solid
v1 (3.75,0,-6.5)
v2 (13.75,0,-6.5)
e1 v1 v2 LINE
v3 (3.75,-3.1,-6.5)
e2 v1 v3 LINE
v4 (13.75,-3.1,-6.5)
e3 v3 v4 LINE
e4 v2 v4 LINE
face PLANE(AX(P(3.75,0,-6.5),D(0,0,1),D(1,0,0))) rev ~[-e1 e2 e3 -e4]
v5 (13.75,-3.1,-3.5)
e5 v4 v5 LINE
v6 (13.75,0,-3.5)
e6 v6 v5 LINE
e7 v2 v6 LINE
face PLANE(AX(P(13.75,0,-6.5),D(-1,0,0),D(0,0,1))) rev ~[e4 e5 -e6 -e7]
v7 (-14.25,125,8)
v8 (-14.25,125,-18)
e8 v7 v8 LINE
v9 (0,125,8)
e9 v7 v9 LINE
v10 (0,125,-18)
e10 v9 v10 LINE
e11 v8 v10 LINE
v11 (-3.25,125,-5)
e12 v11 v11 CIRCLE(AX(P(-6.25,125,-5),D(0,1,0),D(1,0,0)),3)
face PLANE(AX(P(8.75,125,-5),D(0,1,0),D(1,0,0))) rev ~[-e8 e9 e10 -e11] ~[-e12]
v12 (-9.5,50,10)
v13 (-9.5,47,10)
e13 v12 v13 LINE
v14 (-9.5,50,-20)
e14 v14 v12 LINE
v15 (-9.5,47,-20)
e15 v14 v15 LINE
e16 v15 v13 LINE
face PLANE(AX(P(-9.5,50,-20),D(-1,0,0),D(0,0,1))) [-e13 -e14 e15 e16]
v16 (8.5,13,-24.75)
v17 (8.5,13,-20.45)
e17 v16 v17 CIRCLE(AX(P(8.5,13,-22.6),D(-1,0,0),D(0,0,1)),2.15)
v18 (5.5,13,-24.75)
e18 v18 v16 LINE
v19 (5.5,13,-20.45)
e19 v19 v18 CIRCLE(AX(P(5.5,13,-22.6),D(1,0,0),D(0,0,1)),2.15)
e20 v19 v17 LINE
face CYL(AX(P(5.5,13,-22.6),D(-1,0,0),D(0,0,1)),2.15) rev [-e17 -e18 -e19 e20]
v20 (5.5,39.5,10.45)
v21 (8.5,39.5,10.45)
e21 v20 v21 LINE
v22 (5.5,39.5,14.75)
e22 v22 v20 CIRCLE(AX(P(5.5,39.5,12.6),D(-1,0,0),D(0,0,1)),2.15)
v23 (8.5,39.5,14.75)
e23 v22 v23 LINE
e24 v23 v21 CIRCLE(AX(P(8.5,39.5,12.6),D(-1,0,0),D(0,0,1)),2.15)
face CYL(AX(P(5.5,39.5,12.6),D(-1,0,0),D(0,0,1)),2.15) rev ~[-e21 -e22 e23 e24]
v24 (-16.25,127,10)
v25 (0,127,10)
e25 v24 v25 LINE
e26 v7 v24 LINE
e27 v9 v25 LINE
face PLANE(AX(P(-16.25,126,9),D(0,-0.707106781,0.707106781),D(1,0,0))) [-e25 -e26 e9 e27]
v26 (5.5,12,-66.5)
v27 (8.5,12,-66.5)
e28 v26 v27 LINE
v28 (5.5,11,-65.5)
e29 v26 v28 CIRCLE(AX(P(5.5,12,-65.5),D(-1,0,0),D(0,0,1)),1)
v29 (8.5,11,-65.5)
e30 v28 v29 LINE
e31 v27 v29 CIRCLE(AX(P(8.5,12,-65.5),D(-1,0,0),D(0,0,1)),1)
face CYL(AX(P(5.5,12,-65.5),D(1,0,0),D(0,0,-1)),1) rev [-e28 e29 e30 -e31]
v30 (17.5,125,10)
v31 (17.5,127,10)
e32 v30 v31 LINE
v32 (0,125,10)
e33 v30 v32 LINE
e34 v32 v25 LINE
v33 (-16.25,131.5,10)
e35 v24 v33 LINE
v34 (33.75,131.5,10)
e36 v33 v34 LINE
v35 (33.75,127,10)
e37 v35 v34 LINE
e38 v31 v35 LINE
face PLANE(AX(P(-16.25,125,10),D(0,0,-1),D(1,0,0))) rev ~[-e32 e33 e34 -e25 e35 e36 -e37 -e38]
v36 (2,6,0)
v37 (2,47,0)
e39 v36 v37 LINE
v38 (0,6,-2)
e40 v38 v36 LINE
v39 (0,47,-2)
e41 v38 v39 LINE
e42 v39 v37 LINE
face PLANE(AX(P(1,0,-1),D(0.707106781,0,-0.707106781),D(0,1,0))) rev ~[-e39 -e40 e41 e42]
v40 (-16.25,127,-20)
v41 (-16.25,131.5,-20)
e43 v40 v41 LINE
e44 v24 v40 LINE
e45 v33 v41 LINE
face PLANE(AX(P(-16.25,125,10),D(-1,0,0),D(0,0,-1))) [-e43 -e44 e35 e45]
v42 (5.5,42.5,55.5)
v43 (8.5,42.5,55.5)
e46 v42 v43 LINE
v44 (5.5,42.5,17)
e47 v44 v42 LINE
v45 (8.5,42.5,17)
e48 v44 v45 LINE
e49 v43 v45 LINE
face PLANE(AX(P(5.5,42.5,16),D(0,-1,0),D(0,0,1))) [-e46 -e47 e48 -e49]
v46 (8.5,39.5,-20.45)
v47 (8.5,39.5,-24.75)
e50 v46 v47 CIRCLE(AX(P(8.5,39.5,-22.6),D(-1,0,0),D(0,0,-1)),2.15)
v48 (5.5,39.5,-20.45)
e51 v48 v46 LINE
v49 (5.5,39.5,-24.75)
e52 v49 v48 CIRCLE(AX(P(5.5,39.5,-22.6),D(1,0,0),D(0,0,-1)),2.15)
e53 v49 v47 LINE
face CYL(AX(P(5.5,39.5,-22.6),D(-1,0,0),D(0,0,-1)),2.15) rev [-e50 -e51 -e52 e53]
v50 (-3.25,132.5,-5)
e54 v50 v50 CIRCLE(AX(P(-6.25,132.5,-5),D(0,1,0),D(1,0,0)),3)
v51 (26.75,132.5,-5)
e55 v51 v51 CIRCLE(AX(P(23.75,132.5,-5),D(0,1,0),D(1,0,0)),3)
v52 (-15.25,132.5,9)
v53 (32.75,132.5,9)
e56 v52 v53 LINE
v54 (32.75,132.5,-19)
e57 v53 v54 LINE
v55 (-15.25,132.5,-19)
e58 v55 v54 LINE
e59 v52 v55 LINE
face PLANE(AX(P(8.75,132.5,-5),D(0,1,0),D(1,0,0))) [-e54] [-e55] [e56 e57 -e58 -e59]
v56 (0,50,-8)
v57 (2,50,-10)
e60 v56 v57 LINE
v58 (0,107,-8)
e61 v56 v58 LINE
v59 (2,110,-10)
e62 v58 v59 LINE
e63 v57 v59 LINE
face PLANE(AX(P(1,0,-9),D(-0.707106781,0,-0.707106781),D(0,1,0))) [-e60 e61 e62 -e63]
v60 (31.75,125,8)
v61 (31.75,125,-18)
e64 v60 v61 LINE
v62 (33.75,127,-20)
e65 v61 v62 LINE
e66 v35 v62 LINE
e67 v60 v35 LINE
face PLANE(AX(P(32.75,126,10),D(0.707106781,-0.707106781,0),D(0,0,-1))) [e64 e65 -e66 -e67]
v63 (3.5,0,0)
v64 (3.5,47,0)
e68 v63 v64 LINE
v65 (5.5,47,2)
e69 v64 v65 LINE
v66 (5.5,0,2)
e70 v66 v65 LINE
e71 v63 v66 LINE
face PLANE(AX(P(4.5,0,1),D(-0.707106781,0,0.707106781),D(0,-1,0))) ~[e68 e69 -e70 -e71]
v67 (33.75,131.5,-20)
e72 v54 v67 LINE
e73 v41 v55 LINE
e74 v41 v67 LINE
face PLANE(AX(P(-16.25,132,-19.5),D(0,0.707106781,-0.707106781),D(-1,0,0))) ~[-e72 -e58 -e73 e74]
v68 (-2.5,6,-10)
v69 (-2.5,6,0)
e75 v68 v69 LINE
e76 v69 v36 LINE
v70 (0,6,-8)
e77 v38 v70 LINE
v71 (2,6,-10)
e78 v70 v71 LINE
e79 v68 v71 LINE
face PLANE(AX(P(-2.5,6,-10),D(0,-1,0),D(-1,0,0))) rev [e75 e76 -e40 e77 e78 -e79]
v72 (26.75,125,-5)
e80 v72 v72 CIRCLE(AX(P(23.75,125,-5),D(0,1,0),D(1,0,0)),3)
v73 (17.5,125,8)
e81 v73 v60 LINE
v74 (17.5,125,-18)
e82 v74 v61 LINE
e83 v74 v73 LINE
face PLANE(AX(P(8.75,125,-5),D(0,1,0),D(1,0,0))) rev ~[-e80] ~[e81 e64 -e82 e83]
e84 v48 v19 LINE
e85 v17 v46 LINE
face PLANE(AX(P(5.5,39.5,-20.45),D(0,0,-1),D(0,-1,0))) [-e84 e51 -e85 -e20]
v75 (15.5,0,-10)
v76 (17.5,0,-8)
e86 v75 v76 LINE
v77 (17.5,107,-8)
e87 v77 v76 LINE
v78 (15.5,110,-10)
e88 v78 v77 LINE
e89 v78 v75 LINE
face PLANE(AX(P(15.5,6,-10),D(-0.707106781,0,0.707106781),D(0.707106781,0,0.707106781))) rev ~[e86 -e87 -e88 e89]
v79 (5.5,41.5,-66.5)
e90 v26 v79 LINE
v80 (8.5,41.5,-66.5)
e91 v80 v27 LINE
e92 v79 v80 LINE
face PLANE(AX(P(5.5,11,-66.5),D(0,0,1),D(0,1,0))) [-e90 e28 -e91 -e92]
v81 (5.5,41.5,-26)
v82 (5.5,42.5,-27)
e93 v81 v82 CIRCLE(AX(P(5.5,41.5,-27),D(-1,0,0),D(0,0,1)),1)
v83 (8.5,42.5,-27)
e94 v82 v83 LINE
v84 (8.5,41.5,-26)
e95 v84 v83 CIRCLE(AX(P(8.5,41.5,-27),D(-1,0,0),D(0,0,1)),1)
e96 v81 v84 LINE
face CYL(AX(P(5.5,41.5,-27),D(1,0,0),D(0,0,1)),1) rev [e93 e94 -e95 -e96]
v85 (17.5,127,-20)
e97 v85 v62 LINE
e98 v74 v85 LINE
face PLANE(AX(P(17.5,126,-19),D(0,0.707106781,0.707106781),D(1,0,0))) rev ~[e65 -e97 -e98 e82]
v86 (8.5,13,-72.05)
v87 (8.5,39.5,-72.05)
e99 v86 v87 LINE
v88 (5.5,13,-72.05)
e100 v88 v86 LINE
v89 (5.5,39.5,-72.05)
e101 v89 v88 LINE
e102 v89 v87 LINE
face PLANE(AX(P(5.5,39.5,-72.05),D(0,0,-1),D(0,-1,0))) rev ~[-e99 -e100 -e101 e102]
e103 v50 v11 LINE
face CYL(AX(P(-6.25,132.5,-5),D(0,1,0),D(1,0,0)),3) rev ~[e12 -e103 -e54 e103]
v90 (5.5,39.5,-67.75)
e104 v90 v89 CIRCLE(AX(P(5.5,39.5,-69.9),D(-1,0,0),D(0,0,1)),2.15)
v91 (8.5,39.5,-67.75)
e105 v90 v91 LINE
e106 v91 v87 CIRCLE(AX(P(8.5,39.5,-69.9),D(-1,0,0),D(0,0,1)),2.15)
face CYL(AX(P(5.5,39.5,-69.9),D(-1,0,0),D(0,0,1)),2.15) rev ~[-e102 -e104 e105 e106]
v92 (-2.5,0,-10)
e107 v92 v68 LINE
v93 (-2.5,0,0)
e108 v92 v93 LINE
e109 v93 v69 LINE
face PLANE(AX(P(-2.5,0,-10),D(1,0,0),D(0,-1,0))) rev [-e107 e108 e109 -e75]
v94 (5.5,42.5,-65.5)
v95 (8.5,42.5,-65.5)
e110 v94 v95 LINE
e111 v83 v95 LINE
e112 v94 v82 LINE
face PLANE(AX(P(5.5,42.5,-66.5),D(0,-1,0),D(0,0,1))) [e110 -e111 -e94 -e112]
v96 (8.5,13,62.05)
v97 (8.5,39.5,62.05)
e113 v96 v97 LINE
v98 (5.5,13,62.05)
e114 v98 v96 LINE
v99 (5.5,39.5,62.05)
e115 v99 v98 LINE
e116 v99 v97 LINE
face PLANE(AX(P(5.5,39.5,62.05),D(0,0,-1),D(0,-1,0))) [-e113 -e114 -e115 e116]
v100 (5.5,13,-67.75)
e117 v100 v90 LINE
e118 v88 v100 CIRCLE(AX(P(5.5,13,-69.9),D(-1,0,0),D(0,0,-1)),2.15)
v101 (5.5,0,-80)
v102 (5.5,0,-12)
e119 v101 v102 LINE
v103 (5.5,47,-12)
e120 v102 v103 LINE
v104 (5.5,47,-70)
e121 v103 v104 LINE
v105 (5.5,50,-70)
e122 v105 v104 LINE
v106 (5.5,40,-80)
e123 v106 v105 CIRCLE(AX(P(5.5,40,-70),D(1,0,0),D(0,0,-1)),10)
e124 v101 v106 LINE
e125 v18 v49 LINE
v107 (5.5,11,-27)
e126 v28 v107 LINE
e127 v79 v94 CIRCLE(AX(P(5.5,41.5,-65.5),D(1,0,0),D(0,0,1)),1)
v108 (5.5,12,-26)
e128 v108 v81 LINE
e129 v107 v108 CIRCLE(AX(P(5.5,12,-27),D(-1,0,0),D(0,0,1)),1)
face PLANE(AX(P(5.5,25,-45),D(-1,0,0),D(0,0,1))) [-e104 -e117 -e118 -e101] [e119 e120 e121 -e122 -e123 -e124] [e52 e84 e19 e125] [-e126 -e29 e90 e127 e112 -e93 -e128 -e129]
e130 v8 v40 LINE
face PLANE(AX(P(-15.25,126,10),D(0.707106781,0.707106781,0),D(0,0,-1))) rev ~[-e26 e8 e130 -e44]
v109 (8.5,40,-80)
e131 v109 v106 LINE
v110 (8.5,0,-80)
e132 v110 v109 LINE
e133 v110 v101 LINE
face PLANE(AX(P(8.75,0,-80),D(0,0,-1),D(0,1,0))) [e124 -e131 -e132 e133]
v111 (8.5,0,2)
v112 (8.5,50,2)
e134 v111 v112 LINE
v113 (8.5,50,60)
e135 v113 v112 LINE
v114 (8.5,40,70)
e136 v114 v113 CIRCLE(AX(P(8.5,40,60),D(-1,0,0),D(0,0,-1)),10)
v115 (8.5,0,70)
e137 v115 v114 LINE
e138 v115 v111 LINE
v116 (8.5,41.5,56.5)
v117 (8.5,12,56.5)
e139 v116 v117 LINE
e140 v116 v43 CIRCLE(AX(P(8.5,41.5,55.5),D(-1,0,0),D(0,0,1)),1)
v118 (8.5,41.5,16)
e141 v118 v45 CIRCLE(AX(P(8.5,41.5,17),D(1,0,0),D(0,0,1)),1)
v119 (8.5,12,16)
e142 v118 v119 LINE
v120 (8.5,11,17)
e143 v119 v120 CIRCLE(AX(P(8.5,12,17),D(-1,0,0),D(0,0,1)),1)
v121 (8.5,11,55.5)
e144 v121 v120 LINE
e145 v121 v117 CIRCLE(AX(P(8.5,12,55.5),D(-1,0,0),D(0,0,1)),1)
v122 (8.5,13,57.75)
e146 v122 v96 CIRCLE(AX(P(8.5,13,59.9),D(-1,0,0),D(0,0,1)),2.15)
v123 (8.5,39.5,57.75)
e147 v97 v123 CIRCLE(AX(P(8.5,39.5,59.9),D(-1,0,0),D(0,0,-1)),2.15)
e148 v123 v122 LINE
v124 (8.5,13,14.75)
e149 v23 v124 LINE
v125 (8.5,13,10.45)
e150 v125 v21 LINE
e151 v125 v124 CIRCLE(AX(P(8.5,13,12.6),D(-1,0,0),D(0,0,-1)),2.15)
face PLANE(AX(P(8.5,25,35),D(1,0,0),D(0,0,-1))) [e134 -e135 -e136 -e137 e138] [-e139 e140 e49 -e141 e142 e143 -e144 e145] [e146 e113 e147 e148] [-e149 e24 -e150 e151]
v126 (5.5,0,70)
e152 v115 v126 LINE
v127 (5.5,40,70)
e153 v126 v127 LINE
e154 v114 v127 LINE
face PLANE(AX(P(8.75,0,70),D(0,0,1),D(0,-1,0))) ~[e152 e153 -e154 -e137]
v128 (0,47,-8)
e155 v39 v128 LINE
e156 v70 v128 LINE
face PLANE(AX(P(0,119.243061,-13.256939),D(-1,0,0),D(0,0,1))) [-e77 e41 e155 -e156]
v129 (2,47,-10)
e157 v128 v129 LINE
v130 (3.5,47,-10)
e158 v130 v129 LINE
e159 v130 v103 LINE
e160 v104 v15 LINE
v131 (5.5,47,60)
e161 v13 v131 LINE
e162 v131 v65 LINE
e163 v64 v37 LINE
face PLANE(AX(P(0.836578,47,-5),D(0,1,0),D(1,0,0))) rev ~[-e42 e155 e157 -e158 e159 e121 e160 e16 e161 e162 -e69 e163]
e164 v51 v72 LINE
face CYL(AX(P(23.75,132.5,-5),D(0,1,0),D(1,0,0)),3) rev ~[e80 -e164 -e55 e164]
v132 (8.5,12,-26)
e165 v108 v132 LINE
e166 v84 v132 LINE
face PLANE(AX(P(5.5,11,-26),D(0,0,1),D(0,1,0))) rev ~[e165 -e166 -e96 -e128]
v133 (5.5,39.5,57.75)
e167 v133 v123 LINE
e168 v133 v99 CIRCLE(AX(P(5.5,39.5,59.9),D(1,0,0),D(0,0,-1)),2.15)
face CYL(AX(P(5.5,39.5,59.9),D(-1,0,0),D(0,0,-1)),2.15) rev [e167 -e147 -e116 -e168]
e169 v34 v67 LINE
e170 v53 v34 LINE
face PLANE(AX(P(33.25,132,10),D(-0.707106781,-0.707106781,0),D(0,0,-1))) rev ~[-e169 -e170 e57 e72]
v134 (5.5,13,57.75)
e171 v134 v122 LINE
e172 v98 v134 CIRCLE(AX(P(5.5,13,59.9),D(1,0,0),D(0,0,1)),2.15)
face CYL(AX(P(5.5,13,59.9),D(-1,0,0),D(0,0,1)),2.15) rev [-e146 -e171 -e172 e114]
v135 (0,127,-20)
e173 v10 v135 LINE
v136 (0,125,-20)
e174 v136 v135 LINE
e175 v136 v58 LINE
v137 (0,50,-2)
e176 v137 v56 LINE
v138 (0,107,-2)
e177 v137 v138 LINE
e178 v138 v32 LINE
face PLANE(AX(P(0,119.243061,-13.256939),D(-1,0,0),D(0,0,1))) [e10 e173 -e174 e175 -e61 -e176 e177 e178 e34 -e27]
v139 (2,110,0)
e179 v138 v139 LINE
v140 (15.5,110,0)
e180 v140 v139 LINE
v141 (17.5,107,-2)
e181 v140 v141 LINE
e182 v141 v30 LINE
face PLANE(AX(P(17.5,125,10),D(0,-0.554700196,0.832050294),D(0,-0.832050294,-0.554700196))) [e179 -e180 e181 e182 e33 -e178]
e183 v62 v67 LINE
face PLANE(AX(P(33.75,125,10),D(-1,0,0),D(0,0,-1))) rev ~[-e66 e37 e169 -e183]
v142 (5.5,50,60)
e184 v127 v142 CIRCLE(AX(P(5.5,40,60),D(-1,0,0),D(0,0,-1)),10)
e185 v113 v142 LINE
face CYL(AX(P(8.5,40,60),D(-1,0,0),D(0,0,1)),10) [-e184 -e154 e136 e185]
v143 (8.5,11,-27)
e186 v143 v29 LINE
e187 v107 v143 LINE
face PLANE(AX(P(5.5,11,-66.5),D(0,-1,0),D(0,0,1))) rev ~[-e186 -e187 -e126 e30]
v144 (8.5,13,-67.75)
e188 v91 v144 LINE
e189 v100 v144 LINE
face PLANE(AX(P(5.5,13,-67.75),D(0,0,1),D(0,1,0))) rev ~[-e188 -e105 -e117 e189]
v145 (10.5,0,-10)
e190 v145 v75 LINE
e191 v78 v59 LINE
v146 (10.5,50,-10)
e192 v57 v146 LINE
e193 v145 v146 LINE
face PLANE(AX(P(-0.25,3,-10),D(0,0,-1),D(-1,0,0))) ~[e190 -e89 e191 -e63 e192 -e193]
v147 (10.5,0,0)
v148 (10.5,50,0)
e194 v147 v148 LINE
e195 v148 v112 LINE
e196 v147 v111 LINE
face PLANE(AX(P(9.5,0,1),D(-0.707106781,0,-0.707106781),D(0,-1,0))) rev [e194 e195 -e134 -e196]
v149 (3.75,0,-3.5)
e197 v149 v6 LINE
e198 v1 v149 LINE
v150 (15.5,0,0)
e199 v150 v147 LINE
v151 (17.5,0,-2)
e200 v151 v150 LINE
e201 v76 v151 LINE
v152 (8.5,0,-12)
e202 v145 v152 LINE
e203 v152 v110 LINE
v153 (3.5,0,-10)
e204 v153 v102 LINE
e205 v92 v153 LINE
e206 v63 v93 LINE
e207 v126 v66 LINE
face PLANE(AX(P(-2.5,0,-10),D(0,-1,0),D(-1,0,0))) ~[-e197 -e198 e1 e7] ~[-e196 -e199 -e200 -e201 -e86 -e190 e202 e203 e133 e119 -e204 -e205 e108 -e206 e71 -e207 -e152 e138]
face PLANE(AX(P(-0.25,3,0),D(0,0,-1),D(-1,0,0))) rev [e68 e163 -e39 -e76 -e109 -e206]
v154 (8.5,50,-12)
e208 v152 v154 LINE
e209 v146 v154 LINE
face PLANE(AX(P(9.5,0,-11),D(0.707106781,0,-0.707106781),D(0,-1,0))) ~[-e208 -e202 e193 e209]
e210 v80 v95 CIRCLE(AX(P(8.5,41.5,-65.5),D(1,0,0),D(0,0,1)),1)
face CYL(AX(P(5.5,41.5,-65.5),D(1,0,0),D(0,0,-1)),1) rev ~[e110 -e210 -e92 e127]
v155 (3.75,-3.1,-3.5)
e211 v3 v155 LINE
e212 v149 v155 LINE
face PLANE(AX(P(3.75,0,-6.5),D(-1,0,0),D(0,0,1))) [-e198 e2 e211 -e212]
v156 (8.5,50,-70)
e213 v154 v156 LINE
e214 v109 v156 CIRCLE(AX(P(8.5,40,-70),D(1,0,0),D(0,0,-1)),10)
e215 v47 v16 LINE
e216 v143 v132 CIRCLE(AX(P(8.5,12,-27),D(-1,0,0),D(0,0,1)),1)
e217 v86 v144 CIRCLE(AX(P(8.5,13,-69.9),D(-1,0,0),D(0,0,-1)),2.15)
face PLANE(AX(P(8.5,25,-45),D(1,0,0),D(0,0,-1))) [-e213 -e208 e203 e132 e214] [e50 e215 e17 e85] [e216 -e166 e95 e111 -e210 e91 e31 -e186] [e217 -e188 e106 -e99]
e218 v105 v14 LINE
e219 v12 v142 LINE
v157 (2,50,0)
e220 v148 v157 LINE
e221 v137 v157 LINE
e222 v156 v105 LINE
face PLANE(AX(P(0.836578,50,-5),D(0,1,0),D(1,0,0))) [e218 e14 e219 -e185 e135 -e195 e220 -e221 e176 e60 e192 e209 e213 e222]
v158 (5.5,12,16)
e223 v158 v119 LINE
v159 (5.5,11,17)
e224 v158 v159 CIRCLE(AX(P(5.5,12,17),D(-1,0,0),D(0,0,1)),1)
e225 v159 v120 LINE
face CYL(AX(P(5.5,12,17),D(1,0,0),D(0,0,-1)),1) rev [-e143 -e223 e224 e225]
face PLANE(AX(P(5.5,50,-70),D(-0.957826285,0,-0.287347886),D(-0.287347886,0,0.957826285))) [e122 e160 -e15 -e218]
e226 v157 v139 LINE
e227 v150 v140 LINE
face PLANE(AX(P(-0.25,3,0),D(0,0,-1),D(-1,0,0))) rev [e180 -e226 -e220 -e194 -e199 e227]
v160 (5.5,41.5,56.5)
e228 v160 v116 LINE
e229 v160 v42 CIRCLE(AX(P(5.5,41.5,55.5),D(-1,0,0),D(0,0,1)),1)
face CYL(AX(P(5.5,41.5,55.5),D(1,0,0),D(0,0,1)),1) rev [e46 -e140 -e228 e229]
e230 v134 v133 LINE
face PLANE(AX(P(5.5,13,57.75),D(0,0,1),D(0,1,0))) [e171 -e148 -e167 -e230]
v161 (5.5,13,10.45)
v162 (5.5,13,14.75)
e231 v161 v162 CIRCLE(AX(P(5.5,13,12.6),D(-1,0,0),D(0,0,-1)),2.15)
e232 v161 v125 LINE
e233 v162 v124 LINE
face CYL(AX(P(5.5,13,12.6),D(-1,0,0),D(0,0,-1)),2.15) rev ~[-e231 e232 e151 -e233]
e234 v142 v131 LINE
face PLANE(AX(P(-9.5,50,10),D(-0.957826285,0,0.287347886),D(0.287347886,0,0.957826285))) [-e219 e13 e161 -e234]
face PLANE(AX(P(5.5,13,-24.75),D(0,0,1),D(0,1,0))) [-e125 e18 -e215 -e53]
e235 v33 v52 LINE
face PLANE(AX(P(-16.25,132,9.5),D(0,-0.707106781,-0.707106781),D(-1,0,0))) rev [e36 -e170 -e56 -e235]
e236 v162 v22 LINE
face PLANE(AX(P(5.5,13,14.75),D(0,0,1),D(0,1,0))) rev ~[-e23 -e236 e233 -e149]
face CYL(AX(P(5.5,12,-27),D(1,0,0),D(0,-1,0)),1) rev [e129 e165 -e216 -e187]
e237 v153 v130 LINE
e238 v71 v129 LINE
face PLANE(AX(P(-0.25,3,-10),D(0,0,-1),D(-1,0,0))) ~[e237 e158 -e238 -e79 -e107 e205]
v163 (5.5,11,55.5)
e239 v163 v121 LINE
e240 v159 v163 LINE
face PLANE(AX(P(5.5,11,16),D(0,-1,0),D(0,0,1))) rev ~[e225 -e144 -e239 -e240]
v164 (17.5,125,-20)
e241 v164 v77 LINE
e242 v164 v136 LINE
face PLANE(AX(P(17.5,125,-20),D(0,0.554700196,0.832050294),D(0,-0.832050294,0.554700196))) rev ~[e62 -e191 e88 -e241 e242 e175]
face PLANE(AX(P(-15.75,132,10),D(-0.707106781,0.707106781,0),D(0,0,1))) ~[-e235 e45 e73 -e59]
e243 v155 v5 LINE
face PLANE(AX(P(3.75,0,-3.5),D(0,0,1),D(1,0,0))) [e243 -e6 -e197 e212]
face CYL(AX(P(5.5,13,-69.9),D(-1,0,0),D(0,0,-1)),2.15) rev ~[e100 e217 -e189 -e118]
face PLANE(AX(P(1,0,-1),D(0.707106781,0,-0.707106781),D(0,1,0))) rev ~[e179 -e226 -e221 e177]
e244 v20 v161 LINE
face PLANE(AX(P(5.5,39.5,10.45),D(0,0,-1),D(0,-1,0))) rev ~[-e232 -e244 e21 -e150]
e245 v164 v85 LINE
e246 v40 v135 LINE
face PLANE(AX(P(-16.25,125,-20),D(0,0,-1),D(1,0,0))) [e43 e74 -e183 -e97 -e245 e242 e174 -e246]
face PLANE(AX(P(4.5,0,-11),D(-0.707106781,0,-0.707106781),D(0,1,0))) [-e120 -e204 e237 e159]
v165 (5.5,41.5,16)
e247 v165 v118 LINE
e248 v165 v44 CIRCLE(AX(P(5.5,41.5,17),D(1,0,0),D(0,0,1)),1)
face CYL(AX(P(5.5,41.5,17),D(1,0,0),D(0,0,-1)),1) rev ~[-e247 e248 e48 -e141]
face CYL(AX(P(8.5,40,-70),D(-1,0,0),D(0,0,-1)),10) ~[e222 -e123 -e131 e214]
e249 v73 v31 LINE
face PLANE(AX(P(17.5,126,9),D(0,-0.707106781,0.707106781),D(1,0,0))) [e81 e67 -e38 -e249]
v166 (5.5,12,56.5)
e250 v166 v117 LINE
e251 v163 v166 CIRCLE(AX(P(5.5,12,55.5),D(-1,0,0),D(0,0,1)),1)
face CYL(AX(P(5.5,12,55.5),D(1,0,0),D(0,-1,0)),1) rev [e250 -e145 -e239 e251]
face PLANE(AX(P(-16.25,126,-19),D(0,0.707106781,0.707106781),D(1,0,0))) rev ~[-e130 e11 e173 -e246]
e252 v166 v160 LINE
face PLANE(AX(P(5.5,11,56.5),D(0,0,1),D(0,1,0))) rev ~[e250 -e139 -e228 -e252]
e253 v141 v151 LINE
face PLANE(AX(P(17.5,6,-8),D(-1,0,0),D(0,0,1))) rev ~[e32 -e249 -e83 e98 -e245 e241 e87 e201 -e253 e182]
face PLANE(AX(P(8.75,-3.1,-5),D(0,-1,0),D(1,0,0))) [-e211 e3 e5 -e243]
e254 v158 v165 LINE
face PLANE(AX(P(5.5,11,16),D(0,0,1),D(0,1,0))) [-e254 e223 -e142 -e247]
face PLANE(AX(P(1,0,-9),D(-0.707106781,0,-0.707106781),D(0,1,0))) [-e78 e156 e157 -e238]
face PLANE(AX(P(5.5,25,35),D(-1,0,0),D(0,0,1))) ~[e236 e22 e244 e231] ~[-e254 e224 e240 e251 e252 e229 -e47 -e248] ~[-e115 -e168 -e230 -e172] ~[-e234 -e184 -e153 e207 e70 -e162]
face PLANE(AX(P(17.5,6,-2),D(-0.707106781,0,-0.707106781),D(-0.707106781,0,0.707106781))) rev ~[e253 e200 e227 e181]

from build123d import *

# Parameters (mm, degrees)
SKETCH_2_W          = 17.5
SKETCH_2_H          = 10
EXTRUDE_1_DEPTH     = 125
SKETCH_3_W          = 50
SKETCH_3_H          = 30
EXTRUDE_2_DEPTH     = 7.5
CHAMFER_1_SIZE      = 1
SKETCH_4_R          = 3
CUT_EXTRUDE_1_DEPTH = 10
EXTRUDE_3_DEPTH     = 17.5
CHAMFER_2_SIZE      = 2
CHAMFER_3_SIZE      = 2
SKETCH_6_W          = 10
SKETCH_6_H          = 3
EXTRUDE_4_DEPTH     = 3.1
SKETCH_7_W          = 70
SKETCH_7_H          = 50
EXTRUDE_5_DEPTH     = 3.25
SKETCH_12_W         = 4.5
SKETCH_12_H         = 6
EXTRUDE_6_DEPTH     = 10
CUT_EXTRUDE_4_DEPTH = 10
SKETCH_15_W         = 70
SKETCH_15_H         = 50
CUT_EXTRUDE_7_DEPTH = 0.25
SKETCH_16_W         = 40.5
SKETCH_16_H         = 31.5
CUT_EXTRUDE_8_DEPTH = 39.25
CHAMFER_7_SIZE      = 2
FILLET_1_R          = 1
FILLET_2_R          = 10
EXTRUDE_7_DEPTH     = 3
CUT_EXTRUDE_9_DEPTH = 48


with BuildPart() as part:
    # 草图2 → 凸台-拉伸1 (new body)
    with BuildSketch(Plane(origin=(0, 0, 0), x_dir=(1, 0, 0), z_dir=(0, 1, 0))):
        with Locations((8.75, 5)):
            Rectangle(SKETCH_2_W, SKETCH_2_H)
    extrude(amount=EXTRUDE_1_DEPTH)

    # 草图3 → 凸台-拉伸2 (add)
    with BuildSketch(Plane(origin=(0, 125, 0), x_dir=(1, 0, 0), z_dir=(0, 1, 0))):
        with Locations((8.75, 5)):
            Rectangle(SKETCH_3_W, SKETCH_3_H)
    extrude(amount=EXTRUDE_2_DEPTH)

    # 倒角1
    chamfer_1_edges = [part.edges().sort_by_distance(p)[0] for p in [
        (33.75, 132.5, -5),
        (8.75, 132.5, -20),
        (-16.25, 132.5, -5),
        (8.75, 132.5, 10),
    ]]
    chamfer(chamfer_1_edges, length=CHAMFER_1_SIZE)

    # 草图4 → 切除-拉伸1 (cut)
    with BuildSketch(Plane(origin=(0, 132.5, 0), x_dir=(1, 0, 0), z_dir=(0, 1, 0))):
        with Locations((23.75, 5)):
            Circle(SKETCH_4_R)
        with Locations((-6.25, 5)):
            Circle(SKETCH_4_R)
    extrude(amount=-CUT_EXTRUDE_1_DEPTH, mode=Mode.SUBTRACT)

    # 草图5 → 凸台-拉伸3 (add)
    with BuildSketch(Plane(origin=(17.5, 0, 0), x_dir=(0, 0, -1), z_dir=(1, 0, 0))):
        Polygon((10, 125), (20, 125), (10, 110), align=None)
        Polygon((0, 125), (-10, 125), (0, 110), align=None)
    extrude(amount=-EXTRUDE_3_DEPTH)

    # 倒角2
    chamfer_2_edges = [part.edges().sort_by_distance(p)[0] for p in [
        (-8.125, 125, -20),
        (33.75, 125, -5),
        (-16.25, 125, -5),
        (-8.125, 125, 10),
        (25.625, 125, -20),
        (25.625, 125, 10),
    ]]
    chamfer(chamfer_2_edges, length=CHAMFER_2_SIZE)

    # 倒角3
    chamfer_3_edges = [part.edges().sort_by_distance(p)[0] for p in [
        (0, 55, -10),
        (17.5, 55, -10),
        (17.5, 55, 0),
        (0, 55, 0),
    ]]
    chamfer(chamfer_3_edges, length=CHAMFER_3_SIZE)

    # 草图6 → 凸台-拉伸4 (add)
    with BuildSketch(Plane.XZ):
        with Locations((8.75, -5)):
            Rectangle(SKETCH_6_W, SKETCH_6_H)
    extrude(amount=EXTRUDE_4_DEPTH)

    # 草图7 → 凸台-拉伸5 (add)
    with BuildSketch(Plane.ZY.offset(-8.75)):
        with Locations((-45, 25)):
            Rectangle(SKETCH_7_W, SKETCH_7_H)
    extrude_5 = extrude(amount=EXTRUDE_5_DEPTH)

    # 镜向1: 凸台-拉伸5 across plane
    add(extrude_5.mirror(Plane(origin=(0, 0, -5), x_dir=(1, 0, 0), z_dir=(0, 0, -1))))

    # 草图12 → 凸台-拉伸6 (add)
    with BuildSketch(Plane(origin=(0, 0, -10), x_dir=(-1, 0, 0), z_dir=(0, 0, -1))):
        with Locations((-17.75, 3)):
            Rectangle(SKETCH_12_W, SKETCH_12_H)
    extrude_6 = extrude(amount=-EXTRUDE_6_DEPTH)

    # 镜向2: 凸台-拉伸6 across plane
    add(extrude_6.mirror(Plane.ZY.offset(-8.75)))

    # 草图13 → 切除-拉伸4 (cut)
    with BuildSketch(Plane(origin=(0, 6, 0), x_dir=(1, 0, 0), z_dir=(0, 1, 0))):
        Polygon((17.5, 8), (17.5, 2), (15.5, 0), (20, 0), (20, 10), (15.5, 10), align=None)
    extrude(amount=-CUT_EXTRUDE_4_DEPTH, mode=Mode.SUBTRACT)

    # 草图15 → 切除-拉伸7 (cut)
    with BuildSketch(Plane(origin=(8.75, 0, 0), x_dir=(0, 0, -1), z_dir=(1, 0, 0))):
        with Locations((-35, 25)):
            Rectangle(SKETCH_15_W, SKETCH_15_H)
        with Locations((45, 25)):
            Rectangle(SKETCH_15_W, SKETCH_15_H)
    extrude(amount=-CUT_EXTRUDE_7_DEPTH, mode=Mode.SUBTRACT)

    # 草图16 → 切除-拉伸8 (cut)
    with BuildSketch(Plane.ZY.offset(-5.5)):
        with Locations((-46.25, 26.75)):
            Rectangle(SKETCH_16_W, SKETCH_16_H)
        with Locations((36.25, 26.75)):
            Rectangle(SKETCH_16_W, SKETCH_16_H)
    extrude(amount=-CUT_EXTRUDE_8_DEPTH, mode=Mode.SUBTRACT)

    # 倒角7
    chamfer_7_edges = [part.edges().sort_by_distance(p)[0] for p in [
        (5.5, 25, -10),
        (5.5, 25, 0),
        (8.5, 25, 0),
        (8.5, 25, -10),
    ]]
    chamfer(chamfer_7_edges, length=CHAMFER_7_SIZE)

    # 圆角1
    fillet_1_edges = [part.edges().sort_by_distance(p)[0] for p in [
        (7, 42.5, -26),
        (7, 11, -26),
        (7, 11, -66.5),
        (7, 42.5, -66.5),
        (7, 11, 16),
        (7, 42.5, 16),
        (7, 42.5, 56.5),
        (7, 11, 56.5),
    ]]
    fillet(fillet_1_edges, radius=FILLET_1_R)

    # 圆角2
    fillet_2_edges = [part.edges().sort_by_distance(p)[0] for p in [
        (7, 50, -80),
        (7, 50, 70),
    ]]
    fillet(fillet_2_edges, radius=FILLET_2_R)

    # 草图17 → 凸台-拉伸7 (add)
    with BuildSketch(Plane(origin=(0, 50, 0), x_dir=(1, 0, 0), z_dir=(0, 1, 0))):
        Polygon((5.5, 70), (-9.5, 20), (-9.5, -10), (5.5, -60), align=None)
    extrude(amount=-EXTRUDE_7_DEPTH)

    # 草图18 → 切除-拉伸9 (cut)
    with BuildSketch(Plane.ZY.offset(-5.5)):
        with BuildLine():
            Line((62.05, 39.5), (62.05, 13))
            ThreePointArc((62.05, 13), (59.9, 10.85), (57.75, 13))
            Line((57.75, 13), (57.75, 39.5))
            ThreePointArc((57.75, 39.5), (59.9, 41.65), (62.05, 39.5))
        make_face()
        with BuildLine():
            Line((10.45, 39.5), (10.45, 13))
            ThreePointArc((10.45, 13), (12.6, 10.85), (14.75, 13))
            Line((14.75, 13), (14.75, 39.5))
            ThreePointArc((14.75, 39.5), (12.6, 41.65), (10.45, 39.5))
        make_face()
        with BuildLine():
            Line((-20.45, 39.5), (-20.45, 13))
            ThreePointArc((-20.45, 13), (-22.6, 10.85), (-24.75, 13))
            Line((-24.75, 13), (-24.75, 39.5))
            ThreePointArc((-24.75, 39.5), (-22.6, 41.65), (-20.45, 39.5))
        make_face()
        with BuildLine():
            Line((-72.05, 39.5), (-72.05, 13))
            ThreePointArc((-72.05, 13), (-69.9, 10.85), (-67.75, 13))
            Line((-67.75, 13), (-67.75, 39.5))
            ThreePointArc((-67.75, 39.5), (-69.9, 41.65), (-72.05, 39.5))
        make_face()
    extrude(amount=-CUT_EXTRUDE_9_DEPTH, mode=Mode.SUBTRACT)


solid = part.part
